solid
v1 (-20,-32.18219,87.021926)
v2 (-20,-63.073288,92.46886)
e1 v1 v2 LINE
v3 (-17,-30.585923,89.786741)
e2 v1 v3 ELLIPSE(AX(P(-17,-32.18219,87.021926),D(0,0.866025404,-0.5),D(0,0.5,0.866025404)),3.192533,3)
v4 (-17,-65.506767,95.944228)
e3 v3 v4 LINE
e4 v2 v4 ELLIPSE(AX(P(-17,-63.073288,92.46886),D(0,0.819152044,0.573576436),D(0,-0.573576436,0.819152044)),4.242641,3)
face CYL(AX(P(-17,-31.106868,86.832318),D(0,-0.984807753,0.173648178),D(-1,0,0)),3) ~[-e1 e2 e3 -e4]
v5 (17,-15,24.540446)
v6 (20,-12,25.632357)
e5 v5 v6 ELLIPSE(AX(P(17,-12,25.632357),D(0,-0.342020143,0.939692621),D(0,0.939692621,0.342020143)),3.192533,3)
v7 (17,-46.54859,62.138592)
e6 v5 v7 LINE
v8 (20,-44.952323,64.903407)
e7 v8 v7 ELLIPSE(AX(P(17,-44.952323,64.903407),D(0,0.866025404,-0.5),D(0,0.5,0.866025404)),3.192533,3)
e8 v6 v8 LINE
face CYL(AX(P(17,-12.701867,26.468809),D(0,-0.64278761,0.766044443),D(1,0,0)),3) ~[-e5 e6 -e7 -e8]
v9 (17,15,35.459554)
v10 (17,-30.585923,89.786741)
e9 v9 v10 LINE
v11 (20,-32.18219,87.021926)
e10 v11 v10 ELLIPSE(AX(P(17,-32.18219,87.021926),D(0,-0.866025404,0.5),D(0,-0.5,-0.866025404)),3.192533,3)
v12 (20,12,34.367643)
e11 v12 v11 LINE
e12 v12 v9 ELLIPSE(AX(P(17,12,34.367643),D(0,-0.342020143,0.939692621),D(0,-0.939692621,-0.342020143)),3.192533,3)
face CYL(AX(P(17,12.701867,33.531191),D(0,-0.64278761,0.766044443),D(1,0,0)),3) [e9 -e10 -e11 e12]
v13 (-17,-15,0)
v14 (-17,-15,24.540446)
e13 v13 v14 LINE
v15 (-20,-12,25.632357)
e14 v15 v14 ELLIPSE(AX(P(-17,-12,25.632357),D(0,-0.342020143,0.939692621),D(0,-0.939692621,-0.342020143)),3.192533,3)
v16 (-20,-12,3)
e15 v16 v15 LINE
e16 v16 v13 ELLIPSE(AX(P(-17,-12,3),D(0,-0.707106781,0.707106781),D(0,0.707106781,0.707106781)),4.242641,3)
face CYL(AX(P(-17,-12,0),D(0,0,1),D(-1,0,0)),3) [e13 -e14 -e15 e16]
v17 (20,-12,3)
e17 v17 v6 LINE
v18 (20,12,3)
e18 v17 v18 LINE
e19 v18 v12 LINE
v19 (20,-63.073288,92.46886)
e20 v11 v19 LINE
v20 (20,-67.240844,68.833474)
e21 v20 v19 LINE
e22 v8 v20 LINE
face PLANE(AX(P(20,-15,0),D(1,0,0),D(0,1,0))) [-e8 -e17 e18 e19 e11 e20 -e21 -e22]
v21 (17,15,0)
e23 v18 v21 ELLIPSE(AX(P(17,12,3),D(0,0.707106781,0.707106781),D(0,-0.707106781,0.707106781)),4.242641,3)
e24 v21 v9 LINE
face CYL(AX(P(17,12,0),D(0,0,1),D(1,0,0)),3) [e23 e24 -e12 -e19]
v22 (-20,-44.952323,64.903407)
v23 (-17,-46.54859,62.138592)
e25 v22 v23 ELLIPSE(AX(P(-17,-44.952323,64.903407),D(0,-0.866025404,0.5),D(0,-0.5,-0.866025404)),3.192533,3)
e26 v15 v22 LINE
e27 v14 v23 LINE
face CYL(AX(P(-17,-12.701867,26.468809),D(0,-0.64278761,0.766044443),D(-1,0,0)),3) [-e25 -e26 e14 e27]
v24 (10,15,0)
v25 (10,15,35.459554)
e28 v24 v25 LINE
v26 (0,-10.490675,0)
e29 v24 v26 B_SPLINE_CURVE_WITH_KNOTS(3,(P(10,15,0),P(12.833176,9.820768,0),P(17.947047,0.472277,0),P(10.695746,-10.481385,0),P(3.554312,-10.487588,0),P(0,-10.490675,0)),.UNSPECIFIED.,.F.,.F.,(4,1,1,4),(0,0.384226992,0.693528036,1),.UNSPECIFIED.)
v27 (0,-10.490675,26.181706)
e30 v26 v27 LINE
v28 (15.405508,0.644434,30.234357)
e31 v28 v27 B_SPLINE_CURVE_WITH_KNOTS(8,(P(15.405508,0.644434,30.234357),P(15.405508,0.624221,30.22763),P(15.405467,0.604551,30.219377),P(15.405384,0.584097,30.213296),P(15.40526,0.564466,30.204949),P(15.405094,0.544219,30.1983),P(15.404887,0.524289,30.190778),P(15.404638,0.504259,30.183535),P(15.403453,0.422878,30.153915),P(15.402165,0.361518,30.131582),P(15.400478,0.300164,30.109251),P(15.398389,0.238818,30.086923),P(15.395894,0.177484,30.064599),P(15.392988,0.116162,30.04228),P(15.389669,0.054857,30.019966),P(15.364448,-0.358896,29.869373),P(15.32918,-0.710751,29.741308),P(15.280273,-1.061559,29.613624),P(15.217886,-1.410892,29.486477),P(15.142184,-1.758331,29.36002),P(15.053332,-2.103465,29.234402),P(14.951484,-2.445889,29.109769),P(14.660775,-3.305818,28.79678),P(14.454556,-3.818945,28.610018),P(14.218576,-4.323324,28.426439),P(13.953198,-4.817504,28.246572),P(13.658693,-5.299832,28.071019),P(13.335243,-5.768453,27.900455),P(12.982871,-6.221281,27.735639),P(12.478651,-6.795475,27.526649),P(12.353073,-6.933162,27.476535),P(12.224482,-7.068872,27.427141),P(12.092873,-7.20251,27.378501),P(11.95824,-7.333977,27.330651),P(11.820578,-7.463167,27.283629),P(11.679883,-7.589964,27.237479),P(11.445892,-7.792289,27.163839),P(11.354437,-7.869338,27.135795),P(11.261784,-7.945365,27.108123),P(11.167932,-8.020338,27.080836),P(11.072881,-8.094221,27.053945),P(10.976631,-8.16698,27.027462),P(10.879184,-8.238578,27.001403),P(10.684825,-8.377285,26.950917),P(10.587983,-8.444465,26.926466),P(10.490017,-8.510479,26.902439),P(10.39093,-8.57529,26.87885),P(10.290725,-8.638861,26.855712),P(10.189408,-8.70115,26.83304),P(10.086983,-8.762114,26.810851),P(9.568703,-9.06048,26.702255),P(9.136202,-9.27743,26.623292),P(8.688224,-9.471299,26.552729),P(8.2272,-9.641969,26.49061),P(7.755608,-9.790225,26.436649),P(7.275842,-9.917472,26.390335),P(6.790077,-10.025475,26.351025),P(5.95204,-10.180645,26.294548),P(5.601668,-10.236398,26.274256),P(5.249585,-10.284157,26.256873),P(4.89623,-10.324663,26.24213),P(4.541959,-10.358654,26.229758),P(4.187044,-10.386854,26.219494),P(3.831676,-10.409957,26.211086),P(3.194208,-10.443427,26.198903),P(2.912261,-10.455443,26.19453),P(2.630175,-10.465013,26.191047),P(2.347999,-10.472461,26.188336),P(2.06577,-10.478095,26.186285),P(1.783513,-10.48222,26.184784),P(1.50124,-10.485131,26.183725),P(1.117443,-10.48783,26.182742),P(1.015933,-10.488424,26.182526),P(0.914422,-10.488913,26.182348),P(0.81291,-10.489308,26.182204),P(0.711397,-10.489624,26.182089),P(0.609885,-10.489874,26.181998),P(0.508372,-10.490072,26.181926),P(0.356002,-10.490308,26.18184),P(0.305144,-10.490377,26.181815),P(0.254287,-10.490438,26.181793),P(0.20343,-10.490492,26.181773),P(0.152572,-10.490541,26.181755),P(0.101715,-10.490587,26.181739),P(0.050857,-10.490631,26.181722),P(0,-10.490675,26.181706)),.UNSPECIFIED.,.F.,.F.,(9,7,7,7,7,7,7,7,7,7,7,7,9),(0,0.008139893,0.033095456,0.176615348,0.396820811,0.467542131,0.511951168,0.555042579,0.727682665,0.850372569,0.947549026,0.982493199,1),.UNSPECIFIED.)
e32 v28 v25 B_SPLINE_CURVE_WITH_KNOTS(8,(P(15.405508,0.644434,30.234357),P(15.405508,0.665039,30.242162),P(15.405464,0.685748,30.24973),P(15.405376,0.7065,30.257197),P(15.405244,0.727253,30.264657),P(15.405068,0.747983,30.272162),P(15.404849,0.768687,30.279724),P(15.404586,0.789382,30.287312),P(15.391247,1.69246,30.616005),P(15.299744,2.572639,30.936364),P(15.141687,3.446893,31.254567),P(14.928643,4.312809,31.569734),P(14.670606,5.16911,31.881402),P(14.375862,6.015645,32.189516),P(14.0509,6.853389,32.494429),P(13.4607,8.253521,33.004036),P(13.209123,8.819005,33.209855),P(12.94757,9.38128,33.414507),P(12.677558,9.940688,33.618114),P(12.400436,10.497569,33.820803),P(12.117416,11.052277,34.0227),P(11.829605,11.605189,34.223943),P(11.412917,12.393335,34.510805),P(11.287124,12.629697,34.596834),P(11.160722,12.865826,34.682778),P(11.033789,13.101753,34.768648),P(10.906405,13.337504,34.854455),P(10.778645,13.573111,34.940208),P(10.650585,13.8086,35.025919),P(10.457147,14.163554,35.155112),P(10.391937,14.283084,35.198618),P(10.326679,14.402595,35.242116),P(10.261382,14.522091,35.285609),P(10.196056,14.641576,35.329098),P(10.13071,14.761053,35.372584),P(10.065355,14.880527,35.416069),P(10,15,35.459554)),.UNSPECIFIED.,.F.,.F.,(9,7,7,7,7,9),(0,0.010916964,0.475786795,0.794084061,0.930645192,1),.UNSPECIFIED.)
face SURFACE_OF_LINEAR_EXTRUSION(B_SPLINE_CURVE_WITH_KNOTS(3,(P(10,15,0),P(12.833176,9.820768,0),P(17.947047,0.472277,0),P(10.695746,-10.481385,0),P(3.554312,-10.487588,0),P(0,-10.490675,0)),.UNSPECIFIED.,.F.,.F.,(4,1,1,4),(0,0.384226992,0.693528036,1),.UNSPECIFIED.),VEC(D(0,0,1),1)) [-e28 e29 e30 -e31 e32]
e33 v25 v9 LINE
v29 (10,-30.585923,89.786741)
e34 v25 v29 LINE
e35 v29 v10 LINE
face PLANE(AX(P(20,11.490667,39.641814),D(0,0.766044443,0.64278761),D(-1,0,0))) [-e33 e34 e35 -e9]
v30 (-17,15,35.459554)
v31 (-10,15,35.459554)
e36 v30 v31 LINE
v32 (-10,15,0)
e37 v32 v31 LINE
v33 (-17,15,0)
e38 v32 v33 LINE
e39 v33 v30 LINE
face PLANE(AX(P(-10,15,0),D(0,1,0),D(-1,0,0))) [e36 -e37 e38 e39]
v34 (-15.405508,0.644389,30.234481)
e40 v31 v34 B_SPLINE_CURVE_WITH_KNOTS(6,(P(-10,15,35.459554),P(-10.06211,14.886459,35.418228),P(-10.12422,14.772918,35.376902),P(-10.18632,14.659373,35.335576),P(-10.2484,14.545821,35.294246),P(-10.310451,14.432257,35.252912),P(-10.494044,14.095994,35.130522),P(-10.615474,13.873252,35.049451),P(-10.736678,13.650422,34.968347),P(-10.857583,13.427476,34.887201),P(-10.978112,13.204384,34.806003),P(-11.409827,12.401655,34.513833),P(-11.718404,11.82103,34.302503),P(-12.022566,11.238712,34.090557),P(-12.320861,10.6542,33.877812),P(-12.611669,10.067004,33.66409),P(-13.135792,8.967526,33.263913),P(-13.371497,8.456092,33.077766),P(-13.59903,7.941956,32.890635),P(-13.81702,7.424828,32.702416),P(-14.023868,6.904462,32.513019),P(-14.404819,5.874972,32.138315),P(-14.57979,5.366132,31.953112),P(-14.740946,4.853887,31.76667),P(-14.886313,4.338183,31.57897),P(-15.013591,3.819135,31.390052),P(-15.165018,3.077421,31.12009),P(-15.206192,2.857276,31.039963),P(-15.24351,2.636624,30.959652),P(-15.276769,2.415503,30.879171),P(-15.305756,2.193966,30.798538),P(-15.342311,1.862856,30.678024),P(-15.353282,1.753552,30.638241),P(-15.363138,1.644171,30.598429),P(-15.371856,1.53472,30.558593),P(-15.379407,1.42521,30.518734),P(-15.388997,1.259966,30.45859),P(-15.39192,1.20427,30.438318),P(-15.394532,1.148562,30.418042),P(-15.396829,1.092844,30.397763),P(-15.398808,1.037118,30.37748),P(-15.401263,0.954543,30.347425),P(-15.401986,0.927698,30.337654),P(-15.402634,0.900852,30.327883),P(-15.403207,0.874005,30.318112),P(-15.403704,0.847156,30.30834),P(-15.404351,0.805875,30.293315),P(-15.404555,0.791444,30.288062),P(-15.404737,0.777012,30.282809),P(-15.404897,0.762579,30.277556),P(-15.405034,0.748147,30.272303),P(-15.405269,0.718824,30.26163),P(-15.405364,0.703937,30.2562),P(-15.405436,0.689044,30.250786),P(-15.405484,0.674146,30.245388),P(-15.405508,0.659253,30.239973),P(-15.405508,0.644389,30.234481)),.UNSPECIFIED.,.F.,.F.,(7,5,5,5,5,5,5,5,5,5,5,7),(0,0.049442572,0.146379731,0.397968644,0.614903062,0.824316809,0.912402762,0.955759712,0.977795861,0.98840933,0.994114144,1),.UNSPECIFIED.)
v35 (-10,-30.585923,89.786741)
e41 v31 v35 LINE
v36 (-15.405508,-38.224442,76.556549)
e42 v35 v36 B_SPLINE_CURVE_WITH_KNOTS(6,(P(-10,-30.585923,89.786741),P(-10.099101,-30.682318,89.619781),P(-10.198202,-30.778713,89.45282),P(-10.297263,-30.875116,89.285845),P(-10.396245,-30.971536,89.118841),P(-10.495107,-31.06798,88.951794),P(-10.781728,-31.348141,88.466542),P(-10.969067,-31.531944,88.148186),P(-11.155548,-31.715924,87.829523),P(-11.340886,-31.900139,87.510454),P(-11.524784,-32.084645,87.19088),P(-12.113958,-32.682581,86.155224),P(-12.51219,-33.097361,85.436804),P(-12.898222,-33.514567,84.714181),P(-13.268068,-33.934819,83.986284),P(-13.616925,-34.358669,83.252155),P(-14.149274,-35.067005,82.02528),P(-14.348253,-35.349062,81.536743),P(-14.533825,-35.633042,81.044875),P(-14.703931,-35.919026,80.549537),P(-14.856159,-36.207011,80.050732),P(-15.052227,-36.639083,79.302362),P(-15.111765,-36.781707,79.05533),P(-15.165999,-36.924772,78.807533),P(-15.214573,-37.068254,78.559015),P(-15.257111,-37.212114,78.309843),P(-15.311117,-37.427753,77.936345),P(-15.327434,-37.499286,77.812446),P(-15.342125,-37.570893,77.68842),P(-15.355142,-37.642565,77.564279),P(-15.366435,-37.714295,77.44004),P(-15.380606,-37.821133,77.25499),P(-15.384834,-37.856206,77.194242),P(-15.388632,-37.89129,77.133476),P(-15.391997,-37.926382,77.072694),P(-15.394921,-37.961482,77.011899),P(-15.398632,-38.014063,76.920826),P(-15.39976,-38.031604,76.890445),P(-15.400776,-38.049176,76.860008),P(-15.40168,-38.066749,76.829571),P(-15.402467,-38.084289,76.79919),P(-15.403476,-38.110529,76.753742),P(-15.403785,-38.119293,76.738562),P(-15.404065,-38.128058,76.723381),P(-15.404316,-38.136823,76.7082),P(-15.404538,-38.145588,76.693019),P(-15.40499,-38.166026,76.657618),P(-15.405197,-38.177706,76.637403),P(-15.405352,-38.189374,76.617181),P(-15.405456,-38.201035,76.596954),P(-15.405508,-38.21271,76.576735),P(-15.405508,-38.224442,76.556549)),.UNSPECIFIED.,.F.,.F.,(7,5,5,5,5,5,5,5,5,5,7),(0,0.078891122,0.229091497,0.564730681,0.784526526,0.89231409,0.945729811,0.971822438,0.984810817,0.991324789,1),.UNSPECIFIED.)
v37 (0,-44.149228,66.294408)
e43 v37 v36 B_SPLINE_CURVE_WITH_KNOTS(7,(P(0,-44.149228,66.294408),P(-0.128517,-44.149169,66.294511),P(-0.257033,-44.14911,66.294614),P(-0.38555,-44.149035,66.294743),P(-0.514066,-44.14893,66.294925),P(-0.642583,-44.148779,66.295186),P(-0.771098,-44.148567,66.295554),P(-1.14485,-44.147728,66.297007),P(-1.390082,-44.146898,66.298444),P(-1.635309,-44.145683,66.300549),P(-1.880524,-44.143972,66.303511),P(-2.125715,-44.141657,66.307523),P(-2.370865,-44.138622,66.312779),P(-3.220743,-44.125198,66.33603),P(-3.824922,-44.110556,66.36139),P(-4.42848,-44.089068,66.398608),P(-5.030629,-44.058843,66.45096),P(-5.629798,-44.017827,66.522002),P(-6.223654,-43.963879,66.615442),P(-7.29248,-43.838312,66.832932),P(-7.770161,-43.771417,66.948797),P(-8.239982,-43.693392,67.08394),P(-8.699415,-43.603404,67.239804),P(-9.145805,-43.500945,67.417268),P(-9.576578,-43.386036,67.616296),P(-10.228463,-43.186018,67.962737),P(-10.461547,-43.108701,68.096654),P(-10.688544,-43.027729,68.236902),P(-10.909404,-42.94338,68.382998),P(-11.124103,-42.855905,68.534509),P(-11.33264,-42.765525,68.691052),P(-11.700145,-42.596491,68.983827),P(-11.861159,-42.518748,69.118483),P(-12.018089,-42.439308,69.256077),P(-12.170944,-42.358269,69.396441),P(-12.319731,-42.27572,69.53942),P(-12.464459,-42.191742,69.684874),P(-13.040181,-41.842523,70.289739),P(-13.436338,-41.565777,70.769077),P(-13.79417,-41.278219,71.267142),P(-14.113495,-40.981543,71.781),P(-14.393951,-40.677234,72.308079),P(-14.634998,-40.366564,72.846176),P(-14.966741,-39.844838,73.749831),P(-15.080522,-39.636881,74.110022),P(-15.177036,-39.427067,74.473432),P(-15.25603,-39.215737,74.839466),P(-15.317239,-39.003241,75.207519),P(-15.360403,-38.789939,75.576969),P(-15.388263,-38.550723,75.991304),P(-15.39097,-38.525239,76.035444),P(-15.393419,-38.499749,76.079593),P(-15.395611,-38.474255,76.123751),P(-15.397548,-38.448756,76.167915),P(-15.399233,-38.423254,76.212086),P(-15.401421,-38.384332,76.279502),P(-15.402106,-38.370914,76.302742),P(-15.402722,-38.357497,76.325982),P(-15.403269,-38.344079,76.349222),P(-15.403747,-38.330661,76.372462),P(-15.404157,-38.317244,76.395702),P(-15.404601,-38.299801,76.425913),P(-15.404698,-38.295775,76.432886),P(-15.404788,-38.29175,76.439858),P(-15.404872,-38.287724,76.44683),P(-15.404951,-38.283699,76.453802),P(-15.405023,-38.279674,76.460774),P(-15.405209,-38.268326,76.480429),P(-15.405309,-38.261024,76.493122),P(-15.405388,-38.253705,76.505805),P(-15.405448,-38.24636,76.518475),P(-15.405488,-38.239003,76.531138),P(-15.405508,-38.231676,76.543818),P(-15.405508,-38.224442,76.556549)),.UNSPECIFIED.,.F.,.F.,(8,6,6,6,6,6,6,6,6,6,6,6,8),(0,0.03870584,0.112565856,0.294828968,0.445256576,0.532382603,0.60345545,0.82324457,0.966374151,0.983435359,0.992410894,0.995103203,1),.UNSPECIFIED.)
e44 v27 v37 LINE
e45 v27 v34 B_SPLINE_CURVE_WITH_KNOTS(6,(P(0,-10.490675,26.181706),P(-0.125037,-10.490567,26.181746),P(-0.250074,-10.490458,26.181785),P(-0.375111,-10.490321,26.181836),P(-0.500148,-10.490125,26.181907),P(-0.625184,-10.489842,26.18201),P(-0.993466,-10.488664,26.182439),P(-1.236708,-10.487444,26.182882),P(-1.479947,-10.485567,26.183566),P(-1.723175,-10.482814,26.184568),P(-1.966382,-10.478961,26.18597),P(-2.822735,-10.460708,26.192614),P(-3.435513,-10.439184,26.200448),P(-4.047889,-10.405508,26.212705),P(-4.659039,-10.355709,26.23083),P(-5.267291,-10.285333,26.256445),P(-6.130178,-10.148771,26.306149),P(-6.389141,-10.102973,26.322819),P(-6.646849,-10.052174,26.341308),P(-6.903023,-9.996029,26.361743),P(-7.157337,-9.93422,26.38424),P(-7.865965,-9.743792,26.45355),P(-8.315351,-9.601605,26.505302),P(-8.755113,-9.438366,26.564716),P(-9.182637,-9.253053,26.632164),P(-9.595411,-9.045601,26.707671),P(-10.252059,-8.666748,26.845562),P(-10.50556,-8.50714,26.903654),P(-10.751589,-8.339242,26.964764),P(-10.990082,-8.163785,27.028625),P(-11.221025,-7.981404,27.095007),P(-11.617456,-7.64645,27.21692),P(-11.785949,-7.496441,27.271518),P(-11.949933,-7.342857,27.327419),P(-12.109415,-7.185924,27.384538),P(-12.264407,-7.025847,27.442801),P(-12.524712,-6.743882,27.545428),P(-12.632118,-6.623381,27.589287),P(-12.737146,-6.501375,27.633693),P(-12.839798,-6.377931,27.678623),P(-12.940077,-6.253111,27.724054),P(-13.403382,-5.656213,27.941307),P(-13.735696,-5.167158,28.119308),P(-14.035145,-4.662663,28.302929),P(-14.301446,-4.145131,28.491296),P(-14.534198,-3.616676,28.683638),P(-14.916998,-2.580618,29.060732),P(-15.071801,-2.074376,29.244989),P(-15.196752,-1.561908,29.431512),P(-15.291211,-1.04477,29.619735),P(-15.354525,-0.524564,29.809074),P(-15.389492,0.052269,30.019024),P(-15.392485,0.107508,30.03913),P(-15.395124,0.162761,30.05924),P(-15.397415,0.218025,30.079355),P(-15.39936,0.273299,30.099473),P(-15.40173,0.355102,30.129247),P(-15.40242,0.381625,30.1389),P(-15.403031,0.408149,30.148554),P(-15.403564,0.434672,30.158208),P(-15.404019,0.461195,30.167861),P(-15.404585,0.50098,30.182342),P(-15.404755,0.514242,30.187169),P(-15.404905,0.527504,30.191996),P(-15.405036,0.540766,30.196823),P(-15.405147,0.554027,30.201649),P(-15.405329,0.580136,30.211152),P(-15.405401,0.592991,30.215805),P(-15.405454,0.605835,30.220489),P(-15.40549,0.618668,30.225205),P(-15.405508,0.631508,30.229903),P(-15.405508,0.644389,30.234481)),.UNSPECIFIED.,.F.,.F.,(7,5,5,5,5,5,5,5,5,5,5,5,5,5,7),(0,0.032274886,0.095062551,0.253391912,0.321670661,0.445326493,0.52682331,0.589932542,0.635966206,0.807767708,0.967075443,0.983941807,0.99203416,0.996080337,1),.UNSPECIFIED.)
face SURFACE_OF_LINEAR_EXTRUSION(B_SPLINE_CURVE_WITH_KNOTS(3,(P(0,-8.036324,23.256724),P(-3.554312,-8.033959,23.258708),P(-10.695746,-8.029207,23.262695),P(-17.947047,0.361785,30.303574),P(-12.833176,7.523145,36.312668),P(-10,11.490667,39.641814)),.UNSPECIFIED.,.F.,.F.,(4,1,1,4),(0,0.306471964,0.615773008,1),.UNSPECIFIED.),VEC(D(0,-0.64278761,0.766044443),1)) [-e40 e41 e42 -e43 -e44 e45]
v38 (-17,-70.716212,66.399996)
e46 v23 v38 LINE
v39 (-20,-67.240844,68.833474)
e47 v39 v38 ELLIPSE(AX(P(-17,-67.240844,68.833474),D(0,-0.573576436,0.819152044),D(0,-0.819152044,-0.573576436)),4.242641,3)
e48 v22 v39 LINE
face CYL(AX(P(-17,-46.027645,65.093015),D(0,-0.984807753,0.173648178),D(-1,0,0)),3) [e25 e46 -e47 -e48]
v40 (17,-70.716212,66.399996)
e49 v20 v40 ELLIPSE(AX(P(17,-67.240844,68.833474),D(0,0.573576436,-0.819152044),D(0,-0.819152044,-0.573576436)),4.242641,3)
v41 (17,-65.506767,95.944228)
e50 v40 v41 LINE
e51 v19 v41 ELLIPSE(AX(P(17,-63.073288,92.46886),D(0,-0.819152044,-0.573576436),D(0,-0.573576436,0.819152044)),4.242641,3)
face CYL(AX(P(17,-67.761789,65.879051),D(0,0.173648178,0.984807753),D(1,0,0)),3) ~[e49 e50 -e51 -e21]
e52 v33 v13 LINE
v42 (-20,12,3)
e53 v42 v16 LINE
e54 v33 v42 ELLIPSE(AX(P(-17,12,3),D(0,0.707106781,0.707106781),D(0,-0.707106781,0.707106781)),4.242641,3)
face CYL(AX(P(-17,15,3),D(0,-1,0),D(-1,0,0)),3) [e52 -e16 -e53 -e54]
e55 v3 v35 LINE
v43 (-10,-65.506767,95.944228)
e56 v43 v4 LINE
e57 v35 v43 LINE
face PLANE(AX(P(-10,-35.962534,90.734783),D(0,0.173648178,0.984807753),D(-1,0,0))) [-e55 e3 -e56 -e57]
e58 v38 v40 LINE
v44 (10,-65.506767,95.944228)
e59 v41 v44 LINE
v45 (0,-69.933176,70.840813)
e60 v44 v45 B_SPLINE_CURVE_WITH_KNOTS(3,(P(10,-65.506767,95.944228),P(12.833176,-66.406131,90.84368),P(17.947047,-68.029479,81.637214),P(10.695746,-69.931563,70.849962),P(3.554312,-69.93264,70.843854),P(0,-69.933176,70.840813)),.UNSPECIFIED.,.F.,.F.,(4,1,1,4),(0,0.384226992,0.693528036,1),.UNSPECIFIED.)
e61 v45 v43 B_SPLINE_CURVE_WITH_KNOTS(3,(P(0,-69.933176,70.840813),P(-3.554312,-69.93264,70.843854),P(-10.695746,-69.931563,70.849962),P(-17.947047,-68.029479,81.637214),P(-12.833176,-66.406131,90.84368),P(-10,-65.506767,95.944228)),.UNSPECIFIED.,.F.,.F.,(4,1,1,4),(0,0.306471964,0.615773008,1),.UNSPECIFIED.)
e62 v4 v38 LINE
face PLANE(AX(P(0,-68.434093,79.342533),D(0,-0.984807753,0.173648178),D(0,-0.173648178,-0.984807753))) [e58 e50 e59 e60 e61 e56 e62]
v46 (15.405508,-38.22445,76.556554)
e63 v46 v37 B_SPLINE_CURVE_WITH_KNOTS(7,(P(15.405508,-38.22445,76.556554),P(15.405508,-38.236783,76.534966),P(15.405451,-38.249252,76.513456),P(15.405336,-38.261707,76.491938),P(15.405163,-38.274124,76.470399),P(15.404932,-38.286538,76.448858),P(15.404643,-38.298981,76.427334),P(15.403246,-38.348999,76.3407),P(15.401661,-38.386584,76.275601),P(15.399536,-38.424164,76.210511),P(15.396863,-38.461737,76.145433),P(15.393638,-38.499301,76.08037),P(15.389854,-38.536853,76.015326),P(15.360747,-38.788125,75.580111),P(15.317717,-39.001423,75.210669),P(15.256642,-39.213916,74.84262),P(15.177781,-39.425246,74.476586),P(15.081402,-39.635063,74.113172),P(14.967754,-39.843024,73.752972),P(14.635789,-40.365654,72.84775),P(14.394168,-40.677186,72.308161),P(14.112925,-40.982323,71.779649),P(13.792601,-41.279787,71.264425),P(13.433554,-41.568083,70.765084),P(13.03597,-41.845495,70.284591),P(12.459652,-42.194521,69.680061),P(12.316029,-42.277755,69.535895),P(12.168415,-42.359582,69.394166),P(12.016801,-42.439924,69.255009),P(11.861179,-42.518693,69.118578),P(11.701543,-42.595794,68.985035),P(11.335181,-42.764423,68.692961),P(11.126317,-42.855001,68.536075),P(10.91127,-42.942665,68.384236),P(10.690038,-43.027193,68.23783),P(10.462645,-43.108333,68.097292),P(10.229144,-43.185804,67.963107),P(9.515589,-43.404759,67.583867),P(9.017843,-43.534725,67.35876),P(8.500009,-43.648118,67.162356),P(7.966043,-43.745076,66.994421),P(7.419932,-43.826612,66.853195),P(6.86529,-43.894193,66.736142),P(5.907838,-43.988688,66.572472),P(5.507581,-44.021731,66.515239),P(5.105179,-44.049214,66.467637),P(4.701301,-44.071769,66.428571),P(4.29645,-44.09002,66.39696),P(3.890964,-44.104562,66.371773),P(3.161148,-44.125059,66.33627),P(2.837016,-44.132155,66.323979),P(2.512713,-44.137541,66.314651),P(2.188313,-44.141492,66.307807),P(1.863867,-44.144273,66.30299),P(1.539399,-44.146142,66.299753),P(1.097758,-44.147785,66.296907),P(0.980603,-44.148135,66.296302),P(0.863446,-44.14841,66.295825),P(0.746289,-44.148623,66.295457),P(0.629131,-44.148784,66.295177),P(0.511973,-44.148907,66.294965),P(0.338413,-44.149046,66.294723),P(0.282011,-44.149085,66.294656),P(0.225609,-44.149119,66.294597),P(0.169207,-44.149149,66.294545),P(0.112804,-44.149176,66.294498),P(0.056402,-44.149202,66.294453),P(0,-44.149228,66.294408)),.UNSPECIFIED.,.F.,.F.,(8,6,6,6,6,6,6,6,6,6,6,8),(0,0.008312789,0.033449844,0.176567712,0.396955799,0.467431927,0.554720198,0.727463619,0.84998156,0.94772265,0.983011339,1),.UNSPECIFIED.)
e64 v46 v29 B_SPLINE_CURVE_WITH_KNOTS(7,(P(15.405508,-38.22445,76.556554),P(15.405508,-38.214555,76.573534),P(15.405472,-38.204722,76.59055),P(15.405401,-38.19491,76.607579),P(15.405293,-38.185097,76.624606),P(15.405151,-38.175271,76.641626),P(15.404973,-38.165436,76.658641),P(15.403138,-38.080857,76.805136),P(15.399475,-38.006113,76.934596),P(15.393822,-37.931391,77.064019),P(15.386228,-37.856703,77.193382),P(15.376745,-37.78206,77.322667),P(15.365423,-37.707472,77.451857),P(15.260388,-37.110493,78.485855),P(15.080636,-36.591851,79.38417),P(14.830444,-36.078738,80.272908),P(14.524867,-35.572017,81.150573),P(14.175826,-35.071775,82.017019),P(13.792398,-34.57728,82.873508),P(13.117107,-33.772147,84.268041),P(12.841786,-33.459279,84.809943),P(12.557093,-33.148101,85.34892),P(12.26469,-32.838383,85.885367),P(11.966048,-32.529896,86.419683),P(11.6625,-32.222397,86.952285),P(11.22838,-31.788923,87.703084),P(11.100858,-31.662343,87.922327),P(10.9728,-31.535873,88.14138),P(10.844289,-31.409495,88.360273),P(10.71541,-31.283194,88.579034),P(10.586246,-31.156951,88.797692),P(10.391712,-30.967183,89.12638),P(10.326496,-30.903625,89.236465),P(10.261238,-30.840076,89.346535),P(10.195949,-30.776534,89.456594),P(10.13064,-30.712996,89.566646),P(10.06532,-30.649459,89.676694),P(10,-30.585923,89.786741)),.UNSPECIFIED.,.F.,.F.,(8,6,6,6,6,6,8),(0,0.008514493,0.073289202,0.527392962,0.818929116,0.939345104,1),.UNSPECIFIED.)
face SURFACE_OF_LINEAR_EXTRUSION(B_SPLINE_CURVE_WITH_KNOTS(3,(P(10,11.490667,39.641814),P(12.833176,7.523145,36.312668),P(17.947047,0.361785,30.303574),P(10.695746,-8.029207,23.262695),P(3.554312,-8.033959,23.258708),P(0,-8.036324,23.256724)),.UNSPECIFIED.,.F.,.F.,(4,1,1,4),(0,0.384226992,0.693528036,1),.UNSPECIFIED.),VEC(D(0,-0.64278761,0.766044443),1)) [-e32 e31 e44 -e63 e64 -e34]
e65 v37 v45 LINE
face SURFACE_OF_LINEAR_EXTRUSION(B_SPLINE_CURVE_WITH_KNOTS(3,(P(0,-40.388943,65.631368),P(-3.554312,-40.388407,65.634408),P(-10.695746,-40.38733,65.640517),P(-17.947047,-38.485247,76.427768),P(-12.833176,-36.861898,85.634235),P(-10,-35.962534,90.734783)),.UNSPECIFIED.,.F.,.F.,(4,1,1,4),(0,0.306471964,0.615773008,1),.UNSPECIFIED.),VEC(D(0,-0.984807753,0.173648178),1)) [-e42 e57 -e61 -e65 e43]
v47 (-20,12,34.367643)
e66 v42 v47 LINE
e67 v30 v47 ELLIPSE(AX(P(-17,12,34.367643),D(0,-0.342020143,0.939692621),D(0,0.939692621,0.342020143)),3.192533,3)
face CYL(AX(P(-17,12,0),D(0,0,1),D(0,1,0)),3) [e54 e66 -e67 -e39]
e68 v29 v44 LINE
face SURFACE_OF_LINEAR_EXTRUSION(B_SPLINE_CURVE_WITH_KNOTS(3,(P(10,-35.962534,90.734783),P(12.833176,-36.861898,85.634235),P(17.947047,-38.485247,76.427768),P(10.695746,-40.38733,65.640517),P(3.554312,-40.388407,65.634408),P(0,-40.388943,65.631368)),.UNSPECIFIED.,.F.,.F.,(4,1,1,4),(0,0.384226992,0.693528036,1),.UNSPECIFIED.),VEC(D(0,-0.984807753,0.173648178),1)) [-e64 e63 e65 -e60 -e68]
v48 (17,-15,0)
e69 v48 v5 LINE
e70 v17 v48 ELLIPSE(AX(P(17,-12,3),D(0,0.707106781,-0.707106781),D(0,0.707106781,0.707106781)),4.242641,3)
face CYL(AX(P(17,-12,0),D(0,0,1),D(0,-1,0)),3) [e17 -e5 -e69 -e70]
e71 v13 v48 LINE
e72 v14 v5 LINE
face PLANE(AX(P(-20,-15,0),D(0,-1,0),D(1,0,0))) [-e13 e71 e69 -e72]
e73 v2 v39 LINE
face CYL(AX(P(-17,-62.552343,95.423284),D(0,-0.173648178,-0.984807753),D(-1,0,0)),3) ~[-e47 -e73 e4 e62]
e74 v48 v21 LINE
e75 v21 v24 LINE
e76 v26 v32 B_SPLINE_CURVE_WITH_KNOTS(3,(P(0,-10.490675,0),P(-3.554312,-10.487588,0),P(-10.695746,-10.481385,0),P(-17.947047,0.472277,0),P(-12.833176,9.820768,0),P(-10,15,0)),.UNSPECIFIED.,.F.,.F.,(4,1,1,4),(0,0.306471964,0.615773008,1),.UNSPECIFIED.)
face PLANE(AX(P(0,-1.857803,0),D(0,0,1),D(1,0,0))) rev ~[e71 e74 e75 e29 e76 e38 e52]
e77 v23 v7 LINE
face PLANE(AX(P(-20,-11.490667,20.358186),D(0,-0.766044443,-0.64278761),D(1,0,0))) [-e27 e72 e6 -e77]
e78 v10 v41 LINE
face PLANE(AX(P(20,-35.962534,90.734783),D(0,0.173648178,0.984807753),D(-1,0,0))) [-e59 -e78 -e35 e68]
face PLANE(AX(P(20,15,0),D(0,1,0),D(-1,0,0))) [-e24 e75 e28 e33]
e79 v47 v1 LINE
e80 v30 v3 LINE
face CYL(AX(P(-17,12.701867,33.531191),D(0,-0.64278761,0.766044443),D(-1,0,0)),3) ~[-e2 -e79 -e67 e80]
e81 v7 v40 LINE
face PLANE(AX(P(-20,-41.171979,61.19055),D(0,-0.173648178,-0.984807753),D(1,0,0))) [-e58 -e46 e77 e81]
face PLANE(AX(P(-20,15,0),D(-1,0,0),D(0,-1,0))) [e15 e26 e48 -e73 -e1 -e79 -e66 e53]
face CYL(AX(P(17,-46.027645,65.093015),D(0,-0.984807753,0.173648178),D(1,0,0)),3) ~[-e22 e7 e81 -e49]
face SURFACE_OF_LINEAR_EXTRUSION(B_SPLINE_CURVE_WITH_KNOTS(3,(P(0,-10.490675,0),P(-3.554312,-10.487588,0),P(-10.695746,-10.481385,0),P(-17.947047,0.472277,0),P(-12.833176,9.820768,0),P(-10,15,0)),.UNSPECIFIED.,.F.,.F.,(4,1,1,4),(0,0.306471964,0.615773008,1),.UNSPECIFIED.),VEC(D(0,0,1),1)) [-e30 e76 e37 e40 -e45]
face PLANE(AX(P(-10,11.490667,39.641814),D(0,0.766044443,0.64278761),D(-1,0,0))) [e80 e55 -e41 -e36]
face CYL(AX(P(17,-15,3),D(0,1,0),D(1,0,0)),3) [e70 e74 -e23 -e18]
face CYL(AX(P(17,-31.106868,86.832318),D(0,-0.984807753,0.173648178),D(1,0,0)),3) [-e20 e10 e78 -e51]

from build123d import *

# Parameters (mm, degrees)
F3_R = 3


with BuildPart() as f2:
    # F2: sweep along a path in F1
    with BuildLine(Plane.YZ) as f2_path:
        Line((0, 0), (0, 30))
        Line((0, 30), (-38.5672565812, 75.9626665871))
        Line((-38.5672565812, 75.9626665871), (-68.1114891716, 81.1721119171))
    # F0 (on Top) → F2 (sweep)
    with BuildSketch(Plane.XY):
        with BuildLine():
            Line((-10, 15), (-20, 15))
            Line((-20, 15), (-20, -15))
            Line((-20, -15), (20, -15))
            Line((20, -15), (20, 15))
            Line((20, 15), (10, 15))
            add(Edge.make_bspline(
                [(10, 15), (12.8331761755, 9.8207678803), (17.947046752, 0.4722766093), (10.6957463234, -10.4813852615), (3.5543120142, -10.4875882246), (0, -10.4906754568)],
                knots=[0, 0, 0, 0, 0.3842269917, 0.6935280356, 1, 1, 1, 1], degree=3))
            add(Edge.make_bspline(
                [(-10, 15), (-12.8331761755, 9.8207678803), (-17.947046752, 0.4722766093), (-10.6957463234, -10.4813852615), (-3.5543120142, -10.4875882246), (0, -10.4906754568)],
                knots=[0, 0, 0, 0, 0.3842269917, 0.6935280356, 1, 1, 1, 1], degree=3))
        make_face()
    sweep(path=f2_path.line, transition=Transition.RIGHT)

    # F3
    f3_edges = [f2.edges().sort_by_distance(p)[0] for p in [
        (-20, 15, 17.729777),
        (-20, -7.792962, 62.623147),
        (-20, -48.046345, 92.865485),
        (-20, -68.111489, 81.172112),
        (-20, -58.632401, 64.269294),
        (-20, -30.774295, 43.339519),
        (-20, -15, 12.270223),
        (-20, 0, 0),
        (20, -48.046345, 92.865485),
        (20, -7.792962, 62.623147),
        (20, 15, 17.729777),
        (20, 0, 0),
        (20, -15, 12.270223),
        (20, -30.774295, 43.339519),
        (20, -58.632401, 64.269294),
        (20, -68.111489, 81.172112),
    ]]
    fillet(f3_edges, radius=F3_R)


solid = f2.part
